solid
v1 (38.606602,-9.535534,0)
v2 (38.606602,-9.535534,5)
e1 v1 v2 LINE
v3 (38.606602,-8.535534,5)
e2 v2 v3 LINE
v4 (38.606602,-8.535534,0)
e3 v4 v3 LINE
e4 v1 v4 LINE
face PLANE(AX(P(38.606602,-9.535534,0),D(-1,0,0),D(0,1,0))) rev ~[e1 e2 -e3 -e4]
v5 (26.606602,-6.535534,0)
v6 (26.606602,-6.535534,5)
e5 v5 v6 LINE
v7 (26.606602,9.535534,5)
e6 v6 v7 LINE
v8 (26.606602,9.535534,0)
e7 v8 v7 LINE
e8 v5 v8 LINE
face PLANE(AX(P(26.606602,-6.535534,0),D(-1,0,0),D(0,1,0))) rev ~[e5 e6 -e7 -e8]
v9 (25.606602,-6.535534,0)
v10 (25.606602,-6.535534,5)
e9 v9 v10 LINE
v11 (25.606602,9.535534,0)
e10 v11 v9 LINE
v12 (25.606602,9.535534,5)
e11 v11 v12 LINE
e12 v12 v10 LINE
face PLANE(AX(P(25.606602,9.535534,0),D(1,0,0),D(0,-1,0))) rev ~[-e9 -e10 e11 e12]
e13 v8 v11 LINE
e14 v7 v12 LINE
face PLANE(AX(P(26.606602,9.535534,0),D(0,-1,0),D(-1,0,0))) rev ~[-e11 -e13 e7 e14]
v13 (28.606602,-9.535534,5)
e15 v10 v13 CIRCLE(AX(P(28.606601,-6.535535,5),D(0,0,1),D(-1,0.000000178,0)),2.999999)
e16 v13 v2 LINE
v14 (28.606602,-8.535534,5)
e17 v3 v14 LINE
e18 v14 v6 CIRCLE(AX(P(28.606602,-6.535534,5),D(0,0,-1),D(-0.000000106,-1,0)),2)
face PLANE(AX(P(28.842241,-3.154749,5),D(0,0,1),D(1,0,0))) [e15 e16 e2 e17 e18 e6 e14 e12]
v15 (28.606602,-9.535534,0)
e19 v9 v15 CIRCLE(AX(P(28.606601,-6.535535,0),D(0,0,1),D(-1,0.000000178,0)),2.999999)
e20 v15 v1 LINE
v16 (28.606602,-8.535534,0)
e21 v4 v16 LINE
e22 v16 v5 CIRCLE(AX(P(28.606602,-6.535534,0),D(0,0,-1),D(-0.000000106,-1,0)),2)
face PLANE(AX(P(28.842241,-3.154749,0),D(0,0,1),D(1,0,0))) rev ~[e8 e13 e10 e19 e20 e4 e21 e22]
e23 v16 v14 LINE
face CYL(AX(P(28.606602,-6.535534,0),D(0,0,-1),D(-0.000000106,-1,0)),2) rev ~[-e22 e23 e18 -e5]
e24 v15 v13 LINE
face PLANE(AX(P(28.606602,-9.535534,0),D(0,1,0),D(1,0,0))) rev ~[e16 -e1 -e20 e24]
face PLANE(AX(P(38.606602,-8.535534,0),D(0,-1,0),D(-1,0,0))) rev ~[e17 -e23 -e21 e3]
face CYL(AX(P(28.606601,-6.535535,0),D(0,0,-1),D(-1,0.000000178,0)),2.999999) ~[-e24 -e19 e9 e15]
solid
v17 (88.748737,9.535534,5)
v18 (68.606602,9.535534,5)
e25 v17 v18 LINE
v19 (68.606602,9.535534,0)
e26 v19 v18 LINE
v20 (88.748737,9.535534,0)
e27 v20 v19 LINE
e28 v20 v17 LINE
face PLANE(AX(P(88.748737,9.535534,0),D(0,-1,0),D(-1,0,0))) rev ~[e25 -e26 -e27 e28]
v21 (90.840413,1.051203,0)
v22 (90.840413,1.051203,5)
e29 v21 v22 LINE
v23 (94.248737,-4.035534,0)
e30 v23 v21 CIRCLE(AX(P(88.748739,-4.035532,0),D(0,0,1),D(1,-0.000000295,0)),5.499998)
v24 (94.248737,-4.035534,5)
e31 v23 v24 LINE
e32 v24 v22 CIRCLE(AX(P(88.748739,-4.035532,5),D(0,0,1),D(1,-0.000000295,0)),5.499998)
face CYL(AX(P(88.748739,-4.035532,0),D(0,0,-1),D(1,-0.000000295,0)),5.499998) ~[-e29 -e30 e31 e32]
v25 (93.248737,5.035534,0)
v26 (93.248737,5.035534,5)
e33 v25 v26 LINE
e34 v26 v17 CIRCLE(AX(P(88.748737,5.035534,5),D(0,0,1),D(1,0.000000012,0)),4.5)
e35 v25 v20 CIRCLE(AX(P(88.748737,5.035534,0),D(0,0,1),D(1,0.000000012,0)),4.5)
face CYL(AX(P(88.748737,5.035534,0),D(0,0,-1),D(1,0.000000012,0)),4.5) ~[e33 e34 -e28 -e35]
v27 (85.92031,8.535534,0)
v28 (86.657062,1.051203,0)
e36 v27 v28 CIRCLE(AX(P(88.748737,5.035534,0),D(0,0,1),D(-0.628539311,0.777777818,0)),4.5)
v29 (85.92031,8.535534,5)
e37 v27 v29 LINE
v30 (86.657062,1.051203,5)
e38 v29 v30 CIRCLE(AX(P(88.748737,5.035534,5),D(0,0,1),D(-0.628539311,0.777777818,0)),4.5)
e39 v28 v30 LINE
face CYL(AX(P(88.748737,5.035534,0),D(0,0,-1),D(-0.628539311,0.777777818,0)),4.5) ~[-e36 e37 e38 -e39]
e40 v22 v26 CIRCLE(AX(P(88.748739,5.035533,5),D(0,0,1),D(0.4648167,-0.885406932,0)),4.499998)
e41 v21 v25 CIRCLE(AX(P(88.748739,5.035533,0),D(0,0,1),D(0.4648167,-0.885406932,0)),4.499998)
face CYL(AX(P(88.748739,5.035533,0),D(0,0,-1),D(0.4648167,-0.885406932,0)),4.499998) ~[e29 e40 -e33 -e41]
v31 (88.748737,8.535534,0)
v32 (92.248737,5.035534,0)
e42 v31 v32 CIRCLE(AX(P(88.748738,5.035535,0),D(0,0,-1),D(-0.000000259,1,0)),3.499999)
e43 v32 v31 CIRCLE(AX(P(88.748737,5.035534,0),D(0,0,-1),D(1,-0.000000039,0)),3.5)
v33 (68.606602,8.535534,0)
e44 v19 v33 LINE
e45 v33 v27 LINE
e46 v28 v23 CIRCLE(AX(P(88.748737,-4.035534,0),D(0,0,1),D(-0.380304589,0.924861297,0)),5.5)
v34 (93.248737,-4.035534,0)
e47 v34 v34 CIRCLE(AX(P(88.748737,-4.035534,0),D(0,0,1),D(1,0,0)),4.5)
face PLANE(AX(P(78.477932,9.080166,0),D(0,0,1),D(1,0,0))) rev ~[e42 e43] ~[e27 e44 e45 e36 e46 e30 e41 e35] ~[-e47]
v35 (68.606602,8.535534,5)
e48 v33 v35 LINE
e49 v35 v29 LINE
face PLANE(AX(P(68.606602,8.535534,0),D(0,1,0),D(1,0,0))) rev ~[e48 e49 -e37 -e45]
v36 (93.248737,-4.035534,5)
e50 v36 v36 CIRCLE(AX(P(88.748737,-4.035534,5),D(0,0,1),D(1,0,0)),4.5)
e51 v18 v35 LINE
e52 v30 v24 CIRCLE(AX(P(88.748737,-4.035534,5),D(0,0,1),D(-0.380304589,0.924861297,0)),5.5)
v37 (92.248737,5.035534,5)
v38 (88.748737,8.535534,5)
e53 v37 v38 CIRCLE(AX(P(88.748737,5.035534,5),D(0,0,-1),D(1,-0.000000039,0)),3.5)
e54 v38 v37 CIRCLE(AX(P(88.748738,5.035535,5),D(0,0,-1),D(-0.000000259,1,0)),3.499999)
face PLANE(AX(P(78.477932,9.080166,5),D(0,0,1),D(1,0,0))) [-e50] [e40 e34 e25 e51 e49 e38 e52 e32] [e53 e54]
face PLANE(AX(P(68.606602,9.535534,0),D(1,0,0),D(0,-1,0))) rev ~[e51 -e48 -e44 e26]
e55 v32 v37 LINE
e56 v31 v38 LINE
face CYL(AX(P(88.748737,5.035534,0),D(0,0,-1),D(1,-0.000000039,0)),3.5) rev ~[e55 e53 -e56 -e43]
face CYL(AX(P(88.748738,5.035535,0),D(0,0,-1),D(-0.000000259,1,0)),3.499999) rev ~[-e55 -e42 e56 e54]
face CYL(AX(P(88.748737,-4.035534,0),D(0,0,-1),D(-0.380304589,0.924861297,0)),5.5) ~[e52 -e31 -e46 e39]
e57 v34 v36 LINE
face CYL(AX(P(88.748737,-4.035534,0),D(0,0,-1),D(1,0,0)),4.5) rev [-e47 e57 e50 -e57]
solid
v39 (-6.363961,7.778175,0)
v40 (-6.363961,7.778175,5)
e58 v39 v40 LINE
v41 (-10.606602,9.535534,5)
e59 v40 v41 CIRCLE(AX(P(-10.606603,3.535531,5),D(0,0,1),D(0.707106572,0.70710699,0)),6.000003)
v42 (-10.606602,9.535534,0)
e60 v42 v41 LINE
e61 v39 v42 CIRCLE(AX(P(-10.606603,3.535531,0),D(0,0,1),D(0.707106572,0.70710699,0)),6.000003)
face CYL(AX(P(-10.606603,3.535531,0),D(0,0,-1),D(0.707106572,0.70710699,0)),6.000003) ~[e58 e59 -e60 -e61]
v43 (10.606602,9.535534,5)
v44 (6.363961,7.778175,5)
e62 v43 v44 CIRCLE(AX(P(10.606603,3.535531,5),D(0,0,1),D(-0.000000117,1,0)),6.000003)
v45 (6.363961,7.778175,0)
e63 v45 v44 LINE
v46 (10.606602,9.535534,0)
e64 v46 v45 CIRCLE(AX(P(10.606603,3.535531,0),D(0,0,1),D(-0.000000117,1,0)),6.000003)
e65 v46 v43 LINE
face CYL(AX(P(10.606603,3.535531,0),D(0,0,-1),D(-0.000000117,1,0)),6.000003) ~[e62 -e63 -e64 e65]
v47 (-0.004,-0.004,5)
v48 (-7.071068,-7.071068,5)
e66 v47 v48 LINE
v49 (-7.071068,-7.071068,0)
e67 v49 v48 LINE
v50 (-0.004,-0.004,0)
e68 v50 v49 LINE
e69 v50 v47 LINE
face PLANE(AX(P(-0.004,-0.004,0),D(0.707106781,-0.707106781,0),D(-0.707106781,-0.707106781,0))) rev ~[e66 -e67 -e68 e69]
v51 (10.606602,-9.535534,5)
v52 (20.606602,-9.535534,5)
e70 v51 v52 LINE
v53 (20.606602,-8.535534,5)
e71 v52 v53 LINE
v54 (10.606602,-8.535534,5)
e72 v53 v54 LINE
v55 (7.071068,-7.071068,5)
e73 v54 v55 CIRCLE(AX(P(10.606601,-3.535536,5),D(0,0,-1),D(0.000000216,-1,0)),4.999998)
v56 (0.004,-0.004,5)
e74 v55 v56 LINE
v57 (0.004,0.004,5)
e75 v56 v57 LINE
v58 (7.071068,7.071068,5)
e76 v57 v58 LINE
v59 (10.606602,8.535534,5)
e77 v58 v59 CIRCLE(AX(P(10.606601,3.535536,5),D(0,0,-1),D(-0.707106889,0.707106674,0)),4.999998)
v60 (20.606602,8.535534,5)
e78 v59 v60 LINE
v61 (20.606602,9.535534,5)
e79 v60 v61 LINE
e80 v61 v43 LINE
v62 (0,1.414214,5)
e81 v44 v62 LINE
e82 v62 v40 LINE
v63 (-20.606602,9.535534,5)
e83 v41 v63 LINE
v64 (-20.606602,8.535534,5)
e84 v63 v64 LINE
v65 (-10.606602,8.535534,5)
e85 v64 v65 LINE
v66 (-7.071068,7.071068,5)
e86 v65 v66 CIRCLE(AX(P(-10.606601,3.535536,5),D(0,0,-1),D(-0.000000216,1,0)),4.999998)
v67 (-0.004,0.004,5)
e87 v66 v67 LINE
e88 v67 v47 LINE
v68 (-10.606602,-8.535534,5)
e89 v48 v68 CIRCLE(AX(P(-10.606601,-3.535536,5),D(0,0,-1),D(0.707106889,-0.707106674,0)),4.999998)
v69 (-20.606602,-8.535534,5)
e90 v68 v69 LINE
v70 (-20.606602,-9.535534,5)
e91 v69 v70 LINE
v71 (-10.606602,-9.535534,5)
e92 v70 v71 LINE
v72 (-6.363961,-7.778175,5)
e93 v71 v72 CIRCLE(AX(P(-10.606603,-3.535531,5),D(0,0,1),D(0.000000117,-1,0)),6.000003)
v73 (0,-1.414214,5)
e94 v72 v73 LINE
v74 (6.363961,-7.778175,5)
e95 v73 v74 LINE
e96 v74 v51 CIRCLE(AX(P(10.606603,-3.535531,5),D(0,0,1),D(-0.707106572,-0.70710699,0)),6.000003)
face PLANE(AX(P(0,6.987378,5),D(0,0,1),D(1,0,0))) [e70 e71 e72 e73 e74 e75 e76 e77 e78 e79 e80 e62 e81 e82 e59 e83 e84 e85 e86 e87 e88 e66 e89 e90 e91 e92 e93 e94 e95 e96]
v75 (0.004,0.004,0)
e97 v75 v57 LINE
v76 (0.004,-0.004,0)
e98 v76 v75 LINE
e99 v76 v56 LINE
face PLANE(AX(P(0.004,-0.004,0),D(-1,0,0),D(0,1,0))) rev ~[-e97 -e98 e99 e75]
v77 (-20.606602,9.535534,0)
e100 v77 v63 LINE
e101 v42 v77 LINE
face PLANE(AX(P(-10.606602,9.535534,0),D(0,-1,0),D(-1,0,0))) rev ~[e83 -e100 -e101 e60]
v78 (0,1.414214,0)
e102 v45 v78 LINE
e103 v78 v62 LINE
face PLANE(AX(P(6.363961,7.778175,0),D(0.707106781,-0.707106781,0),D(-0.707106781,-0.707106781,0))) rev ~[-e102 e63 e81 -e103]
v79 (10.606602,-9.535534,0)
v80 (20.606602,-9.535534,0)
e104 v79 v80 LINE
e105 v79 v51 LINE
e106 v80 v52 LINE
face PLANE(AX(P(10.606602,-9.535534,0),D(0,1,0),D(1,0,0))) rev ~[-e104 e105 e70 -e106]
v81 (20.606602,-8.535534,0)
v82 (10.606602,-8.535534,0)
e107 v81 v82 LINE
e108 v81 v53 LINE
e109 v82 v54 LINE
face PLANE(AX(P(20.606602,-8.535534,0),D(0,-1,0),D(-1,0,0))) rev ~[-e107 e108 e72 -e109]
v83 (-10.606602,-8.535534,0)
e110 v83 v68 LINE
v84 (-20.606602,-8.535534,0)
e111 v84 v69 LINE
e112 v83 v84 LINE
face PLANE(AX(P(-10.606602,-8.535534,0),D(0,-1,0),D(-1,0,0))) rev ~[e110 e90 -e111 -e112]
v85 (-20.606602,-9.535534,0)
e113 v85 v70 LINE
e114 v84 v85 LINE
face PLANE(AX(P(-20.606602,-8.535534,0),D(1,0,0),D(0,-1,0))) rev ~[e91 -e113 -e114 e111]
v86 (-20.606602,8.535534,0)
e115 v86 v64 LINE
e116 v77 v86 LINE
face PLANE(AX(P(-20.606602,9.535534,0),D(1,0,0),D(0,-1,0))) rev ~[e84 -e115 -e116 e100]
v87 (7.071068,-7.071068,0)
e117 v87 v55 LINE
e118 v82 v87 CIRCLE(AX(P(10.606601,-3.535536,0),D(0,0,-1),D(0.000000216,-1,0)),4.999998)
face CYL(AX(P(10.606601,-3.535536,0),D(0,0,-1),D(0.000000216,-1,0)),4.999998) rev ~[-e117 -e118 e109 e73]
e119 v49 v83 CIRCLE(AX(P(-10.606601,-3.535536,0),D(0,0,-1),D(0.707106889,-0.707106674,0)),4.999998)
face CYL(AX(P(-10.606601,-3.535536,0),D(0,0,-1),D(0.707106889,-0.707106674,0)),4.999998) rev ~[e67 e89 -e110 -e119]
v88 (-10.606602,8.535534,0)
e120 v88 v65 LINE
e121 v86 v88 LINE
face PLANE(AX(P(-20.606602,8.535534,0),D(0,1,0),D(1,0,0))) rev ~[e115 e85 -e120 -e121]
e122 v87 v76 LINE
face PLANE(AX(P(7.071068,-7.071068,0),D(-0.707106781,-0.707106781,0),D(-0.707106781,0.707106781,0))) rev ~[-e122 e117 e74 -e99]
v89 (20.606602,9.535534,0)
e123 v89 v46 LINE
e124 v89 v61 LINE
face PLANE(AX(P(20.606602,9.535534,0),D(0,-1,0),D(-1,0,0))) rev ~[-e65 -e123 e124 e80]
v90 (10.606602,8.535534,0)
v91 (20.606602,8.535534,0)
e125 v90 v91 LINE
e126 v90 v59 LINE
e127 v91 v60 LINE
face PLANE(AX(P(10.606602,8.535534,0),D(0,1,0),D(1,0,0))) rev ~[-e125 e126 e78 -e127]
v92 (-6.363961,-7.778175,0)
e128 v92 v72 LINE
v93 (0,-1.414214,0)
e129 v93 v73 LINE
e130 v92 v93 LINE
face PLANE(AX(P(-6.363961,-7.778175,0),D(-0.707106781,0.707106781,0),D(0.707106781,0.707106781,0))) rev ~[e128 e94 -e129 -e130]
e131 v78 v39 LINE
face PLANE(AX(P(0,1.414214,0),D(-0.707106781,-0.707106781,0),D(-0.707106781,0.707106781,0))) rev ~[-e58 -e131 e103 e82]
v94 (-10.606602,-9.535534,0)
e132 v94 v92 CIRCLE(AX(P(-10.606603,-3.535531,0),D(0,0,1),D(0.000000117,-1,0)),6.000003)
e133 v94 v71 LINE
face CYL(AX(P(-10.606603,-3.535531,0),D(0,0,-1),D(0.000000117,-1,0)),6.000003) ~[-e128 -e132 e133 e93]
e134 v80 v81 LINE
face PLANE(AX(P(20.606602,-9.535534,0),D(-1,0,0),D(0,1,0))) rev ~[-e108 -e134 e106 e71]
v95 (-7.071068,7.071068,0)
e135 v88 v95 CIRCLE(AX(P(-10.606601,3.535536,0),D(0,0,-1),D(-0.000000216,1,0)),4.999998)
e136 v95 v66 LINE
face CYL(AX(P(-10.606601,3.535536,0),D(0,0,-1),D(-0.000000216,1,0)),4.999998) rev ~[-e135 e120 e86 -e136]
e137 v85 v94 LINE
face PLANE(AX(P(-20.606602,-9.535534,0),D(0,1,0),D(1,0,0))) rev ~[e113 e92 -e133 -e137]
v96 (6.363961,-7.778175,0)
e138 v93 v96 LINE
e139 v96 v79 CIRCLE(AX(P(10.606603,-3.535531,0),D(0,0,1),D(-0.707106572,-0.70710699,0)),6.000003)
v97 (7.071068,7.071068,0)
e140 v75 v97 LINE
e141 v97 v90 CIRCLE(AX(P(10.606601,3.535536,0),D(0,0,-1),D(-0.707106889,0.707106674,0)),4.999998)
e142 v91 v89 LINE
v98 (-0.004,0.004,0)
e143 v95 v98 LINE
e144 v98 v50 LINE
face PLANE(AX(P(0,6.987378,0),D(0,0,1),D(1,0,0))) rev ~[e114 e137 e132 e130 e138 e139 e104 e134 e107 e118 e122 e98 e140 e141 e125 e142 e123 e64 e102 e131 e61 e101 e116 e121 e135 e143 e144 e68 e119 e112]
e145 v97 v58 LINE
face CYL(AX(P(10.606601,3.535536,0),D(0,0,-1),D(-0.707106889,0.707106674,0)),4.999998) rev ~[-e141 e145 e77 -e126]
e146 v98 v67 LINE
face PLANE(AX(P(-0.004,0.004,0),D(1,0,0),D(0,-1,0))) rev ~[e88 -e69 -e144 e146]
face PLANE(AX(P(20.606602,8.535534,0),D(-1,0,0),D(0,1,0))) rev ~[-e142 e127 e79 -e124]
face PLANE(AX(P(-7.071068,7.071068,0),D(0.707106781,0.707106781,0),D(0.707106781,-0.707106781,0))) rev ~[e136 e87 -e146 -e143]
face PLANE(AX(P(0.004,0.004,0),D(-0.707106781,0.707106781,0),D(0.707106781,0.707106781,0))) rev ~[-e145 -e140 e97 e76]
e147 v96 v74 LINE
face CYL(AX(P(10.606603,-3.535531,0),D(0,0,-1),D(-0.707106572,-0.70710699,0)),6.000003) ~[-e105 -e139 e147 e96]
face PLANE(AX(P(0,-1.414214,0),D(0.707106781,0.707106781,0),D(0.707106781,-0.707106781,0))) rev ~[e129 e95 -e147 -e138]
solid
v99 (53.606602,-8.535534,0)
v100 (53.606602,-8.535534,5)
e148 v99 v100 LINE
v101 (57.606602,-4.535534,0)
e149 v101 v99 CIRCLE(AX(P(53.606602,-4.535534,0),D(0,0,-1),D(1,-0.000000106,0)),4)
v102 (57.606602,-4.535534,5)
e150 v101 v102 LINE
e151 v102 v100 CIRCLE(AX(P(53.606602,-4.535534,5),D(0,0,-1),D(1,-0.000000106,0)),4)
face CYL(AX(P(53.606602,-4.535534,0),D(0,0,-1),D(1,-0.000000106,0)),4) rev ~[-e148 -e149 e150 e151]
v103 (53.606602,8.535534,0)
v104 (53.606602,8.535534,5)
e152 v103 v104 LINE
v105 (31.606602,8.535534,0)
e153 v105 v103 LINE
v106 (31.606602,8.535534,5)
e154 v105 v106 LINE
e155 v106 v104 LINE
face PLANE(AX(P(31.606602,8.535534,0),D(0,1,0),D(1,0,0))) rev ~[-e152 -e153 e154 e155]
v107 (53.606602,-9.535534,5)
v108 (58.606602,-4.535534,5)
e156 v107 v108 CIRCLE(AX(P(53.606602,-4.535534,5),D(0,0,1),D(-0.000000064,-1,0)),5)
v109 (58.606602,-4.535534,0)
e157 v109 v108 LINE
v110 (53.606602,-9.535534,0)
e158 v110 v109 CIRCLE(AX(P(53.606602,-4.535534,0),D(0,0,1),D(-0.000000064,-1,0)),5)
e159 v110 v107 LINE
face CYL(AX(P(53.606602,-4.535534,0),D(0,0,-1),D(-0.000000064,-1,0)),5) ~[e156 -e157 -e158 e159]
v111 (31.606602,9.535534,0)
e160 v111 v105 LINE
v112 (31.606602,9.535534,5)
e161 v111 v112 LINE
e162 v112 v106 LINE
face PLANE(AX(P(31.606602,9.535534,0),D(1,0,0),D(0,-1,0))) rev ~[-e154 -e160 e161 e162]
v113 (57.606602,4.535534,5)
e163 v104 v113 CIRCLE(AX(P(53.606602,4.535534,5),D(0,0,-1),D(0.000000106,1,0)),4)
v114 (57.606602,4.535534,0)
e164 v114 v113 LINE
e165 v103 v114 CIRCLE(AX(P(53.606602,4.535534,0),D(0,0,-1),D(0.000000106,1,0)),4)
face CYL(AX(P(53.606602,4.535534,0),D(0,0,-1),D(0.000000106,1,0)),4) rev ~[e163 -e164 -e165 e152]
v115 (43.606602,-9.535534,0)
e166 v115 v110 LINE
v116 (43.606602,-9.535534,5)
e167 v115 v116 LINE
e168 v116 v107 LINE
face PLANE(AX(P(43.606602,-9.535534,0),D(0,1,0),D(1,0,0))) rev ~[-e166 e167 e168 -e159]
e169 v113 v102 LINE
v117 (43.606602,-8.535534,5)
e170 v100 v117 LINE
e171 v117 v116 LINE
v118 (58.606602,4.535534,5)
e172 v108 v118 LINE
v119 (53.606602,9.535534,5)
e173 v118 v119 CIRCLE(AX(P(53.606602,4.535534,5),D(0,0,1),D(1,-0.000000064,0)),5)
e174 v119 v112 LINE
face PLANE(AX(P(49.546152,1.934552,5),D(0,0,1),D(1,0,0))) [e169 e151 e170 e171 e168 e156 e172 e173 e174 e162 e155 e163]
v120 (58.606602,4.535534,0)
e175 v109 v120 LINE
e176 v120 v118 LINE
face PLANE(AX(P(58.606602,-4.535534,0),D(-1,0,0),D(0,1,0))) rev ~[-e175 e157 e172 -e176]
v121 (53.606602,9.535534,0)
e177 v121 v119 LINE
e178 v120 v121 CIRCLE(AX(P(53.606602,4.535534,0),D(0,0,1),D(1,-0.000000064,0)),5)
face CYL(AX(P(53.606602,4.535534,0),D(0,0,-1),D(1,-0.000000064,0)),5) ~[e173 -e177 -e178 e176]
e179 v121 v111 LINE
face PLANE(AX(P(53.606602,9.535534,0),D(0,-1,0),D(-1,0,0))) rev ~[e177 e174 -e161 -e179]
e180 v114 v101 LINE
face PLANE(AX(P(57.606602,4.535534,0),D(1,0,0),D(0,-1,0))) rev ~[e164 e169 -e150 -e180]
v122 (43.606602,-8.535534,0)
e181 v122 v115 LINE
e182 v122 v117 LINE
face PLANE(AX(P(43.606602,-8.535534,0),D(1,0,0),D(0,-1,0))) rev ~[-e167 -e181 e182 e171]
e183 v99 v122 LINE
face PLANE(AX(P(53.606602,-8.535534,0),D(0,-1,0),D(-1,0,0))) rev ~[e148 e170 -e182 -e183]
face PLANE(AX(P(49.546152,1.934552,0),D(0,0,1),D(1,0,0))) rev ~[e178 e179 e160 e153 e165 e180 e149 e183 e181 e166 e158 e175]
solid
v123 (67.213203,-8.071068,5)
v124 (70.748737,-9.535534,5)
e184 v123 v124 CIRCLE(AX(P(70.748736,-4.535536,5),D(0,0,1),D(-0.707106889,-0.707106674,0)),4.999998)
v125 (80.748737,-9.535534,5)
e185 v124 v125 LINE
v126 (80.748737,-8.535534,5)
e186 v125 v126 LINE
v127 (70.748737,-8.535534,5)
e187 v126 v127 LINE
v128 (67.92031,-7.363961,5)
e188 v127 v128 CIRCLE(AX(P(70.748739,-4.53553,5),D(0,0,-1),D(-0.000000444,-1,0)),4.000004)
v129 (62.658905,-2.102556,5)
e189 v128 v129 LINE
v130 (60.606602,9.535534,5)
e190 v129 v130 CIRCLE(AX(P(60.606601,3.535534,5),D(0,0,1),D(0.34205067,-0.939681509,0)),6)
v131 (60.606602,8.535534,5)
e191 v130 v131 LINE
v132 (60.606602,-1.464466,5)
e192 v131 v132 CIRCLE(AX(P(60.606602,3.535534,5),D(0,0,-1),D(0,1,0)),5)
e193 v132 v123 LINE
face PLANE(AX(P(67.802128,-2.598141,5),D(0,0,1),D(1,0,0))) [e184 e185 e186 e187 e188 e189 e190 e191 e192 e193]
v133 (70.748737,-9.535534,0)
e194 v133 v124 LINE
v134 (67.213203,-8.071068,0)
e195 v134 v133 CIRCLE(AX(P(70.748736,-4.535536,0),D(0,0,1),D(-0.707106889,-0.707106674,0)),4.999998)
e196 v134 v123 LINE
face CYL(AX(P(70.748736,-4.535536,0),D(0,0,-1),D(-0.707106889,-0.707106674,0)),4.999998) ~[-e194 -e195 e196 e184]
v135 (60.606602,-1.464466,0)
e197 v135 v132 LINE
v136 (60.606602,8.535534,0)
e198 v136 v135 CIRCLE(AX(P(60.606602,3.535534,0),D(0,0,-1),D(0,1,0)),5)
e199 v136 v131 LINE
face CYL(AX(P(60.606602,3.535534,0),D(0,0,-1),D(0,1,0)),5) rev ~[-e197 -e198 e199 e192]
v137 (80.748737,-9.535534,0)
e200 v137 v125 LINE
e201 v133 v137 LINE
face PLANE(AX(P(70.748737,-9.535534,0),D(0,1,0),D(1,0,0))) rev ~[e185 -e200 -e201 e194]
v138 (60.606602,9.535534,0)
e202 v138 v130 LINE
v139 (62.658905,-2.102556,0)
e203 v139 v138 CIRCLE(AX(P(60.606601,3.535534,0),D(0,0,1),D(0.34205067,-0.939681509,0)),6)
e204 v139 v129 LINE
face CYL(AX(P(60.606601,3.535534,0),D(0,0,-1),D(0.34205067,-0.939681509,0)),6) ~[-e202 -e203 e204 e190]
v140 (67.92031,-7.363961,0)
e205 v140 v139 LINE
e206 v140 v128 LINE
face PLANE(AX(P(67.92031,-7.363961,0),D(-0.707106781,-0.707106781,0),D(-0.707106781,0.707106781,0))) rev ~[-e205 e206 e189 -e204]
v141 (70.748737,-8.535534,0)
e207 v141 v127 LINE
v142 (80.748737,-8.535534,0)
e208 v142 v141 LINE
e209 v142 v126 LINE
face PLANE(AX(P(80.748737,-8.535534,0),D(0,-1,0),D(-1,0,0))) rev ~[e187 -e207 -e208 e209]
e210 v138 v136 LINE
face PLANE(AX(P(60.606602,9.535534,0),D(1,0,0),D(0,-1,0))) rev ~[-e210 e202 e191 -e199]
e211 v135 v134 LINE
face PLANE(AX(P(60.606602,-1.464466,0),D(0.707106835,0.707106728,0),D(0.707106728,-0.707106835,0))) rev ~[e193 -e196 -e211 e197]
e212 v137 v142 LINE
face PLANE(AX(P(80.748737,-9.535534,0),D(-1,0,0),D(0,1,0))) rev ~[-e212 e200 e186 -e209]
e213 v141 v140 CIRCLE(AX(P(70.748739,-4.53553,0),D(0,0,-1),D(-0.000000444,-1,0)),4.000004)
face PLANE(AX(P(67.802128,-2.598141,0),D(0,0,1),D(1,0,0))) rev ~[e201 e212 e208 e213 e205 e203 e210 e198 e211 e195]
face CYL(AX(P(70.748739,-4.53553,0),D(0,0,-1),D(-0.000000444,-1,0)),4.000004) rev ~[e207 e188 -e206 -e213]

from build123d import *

# Parameters (mm, degrees)
F0_R     = 4.5
F1_DEPTH = 5


with BuildPart() as f1:
    # F0 (on Top) → F1 (new body)
    with BuildSketch(Plane.XY):
        with BuildLine():
            Line((-0.004, 0.004), (0, 0))
            Line((0, 0), (0.004, 0.004))
            Line((0.004, 0.004), (7.071068, 7.071068))
            ThreePointArc((7.071068, 7.071068), (8.693185, 8.154932), (10.606602, 8.535534))
            Line((10.606602, 8.535534), (20.606602, 8.535534))
            Line((20.606602, 8.535534), (20.606602, 9.535534))
            Line((20.606602, 9.535534), (10.606602, 9.535534))
            ThreePointArc((10.606602, 9.535534), (8.310501, 9.078811), (6.363961, 7.778175))
            Line((6.363961, 7.778175), (0, 1.414214))
            Line((0, 1.414214), (-6.363961, 7.778175))
            ThreePointArc((-6.363961, 7.778175), (-8.310501, 9.078811), (-10.606602, 9.535534))
            Line((-10.606602, 9.535534), (-20.606602, 9.535534))
            Line((-20.606602, 9.535534), (-20.606602, 8.535534))
            Line((-20.606602, 8.535534), (-10.606602, 8.535534))
            ThreePointArc((-10.606602, 8.535534), (-8.693185, 8.154932), (-7.071068, 7.071068))
            Line((-7.071068, 7.071068), (-0.004, 0.004))
        make_face()
        with BuildLine():
            Line((0.004, -0.004), (0, 0))
            Line((0, 0), (-0.004, -0.004))
            Line((-0.004, -0.004), (-7.071068, -7.071068))
            ThreePointArc((-7.071068, -7.071068), (-8.693185, -8.154932), (-10.606602, -8.535534))
            Line((-10.606602, -8.535534), (-20.606602, -8.535534))
            Line((-20.606602, -8.535534), (-20.606602, -9.535534))
            Line((-20.606602, -9.535534), (-10.606602, -9.535534))
            ThreePointArc((-10.606602, -9.535534), (-8.310501, -9.078811), (-6.363961, -7.778175))
            Line((-6.363961, -7.778175), (0, -1.414214))
            Line((0, -1.414214), (6.363961, -7.778175))
            ThreePointArc((6.363961, -7.778175), (8.310501, -9.078811), (10.606602, -9.535534))
            Line((10.606602, -9.535534), (20.606602, -9.535534))
            Line((20.606602, -9.535534), (20.606602, -8.535534))
            Line((20.606602, -8.535534), (10.606602, -8.535534))
            ThreePointArc((10.606602, -8.535534), (8.693185, -8.154932), (7.071068, -7.071068))
            Line((7.071068, -7.071068), (0.004, -0.004))
        make_face()
        Polygon((0.004, 0.004), (0, 0), (0.004, -0.004), align=None)
        Polygon((-0.004, -0.004), (0, 0), (-0.004, 0.004), align=None)
        with BuildLine():
            Line((26.606602, 9.535534), (25.606602, 9.535534))
            Line((25.606602, 9.535534), (25.606602, -6.535534))
            ThreePointArc((25.606602, -6.535534), (26.485281, -8.656854), (28.606602, -9.535534))
            Line((28.606602, -9.535534), (38.606602, -9.535534))
            Line((38.606602, -9.535534), (38.606602, -8.535534))
            Line((38.606602, -8.535534), (28.606602, -8.535534))
            ThreePointArc((28.606602, -8.535534), (27.192388, -7.949747), (26.606602, -6.535534))
            Line((26.606602, -6.535534), (26.606602, 9.535534))
        make_face()
        with BuildLine():
            Line((43.606602, -8.535534), (43.606602, -9.535534))
            Line((43.606602, -9.535534), (53.606602, -9.535534))
            ThreePointArc((53.606602, -9.535534), (57.142136, -8.071068), (58.606602, -4.535534))
            Line((58.606602, -4.535534), (58.606602, 4.535534))
            ThreePointArc((58.606602, 4.535534), (57.142136, 8.071068), (53.606602, 9.535534))
            Line((53.606602, 9.535534), (31.606602, 9.535534))
            Line((31.606602, 9.535534), (31.606602, 8.535534))
            Line((31.606602, 8.535534), (53.606602, 8.535534))
            ThreePointArc((53.606602, 8.535534), (56.435029, 7.363961), (57.606602, 4.535534))
            Line((57.606602, 4.535534), (57.606602, -4.535534))
            ThreePointArc((57.606602, -4.535534), (56.435029, -7.363961), (53.606602, -8.535534))
            Line((53.606602, -8.535534), (43.606602, -8.535534))
        make_face()
        with BuildLine():
            ThreePointArc((60.606602, 8.535534), (65.606602, 3.535534), (60.606602, -1.464466))
            Line((60.606602, -1.464466), (67.213203, -8.071068))
            ThreePointArc((67.213203, -8.071068), (68.83532, -9.154932), (70.748737, -9.535534))
            Line((70.748737, -9.535534), (80.748737, -9.535534))
            Line((80.748737, -9.535534), (80.748737, -8.535534))
            Line((80.748737, -8.535534), (70.748737, -8.535534))
            ThreePointArc((70.748737, -8.535534), (69.218004, -8.231052), (67.92031, -7.363961))
            Line((67.92031, -7.363961), (62.658905, -2.102556))
            ThreePointArc((62.658905, -2.102556), (66.515431, 4.577518), (60.606602, 9.535534))
            Line((60.606602, 9.535534), (60.606602, 8.535534))
        make_face()
        with BuildLine():
            Line((68.606602, 8.535534), (85.92031, 8.535534))
            ThreePointArc((85.92031, 8.535534), (87.248737, 9.278175), (88.748737, 9.535534))
            Line((88.748737, 9.535534), (68.606602, 9.535534))
            Line((68.606602, 9.535534), (68.606602, 8.535534))
        make_face()
        with BuildLine():
            ThreePointArc((86.657062, 1.051203), (88.748737, 1.464466), (90.840413, 1.051203))
            ThreePointArc((90.840413, 1.051203), (92.599876, 2.707717), (93.248737, 5.035534))
            ThreePointArc((93.248737, 5.035534), (91.930718, 8.217514), (88.748737, 9.535534))
            Line((88.748737, 9.535534), (88.748737, 8.535534))
            Line((88.748737, 8.535534), (85.92031, 8.535534))
            ThreePointArc((85.92031, 8.535534), (84.270383, 4.594688), (86.657062, 1.051203))
        make_face()
        with BuildLine():
            ThreePointArc((92.248737, 5.035534), (86.273864, 2.56066), (88.748737, 8.535534))
            ThreePointArc((88.748737, 8.535534), (91.223611, 7.510408), (92.248737, 5.035534))
        make_face(mode=Mode.SUBTRACT)
        with BuildLine():
            ThreePointArc((88.748737, 9.535534), (87.248737, 9.278175), (85.92031, 8.535534))
            Line((85.92031, 8.535534), (88.748737, 8.535534))
            Line((88.748737, 8.535534), (88.748737, 9.535534))
        make_face()
        with BuildLine():
            ThreePointArc((86.657062, 1.051203), (88.748737, 0.535534), (90.840413, 1.051203))
            ThreePointArc((90.840413, 1.051203), (88.748737, 1.464466), (86.657062, 1.051203))
        make_face()
        with BuildLine():
            ThreePointArc((86.657062, 1.051203), (85.687219, -8.604681), (94.248737, -4.035534))
            ThreePointArc((94.248737, -4.035534), (93.317885, -0.974016), (90.840413, 1.051203))
            ThreePointArc((90.840413, 1.051203), (88.748737, 0.535534), (86.657062, 1.051203))
        make_face()
        with Locations((88.748737, -4.035534)):
            Circle(F0_R, mode=Mode.SUBTRACT)
    extrude(amount=F1_DEPTH)


solid = f1.part
